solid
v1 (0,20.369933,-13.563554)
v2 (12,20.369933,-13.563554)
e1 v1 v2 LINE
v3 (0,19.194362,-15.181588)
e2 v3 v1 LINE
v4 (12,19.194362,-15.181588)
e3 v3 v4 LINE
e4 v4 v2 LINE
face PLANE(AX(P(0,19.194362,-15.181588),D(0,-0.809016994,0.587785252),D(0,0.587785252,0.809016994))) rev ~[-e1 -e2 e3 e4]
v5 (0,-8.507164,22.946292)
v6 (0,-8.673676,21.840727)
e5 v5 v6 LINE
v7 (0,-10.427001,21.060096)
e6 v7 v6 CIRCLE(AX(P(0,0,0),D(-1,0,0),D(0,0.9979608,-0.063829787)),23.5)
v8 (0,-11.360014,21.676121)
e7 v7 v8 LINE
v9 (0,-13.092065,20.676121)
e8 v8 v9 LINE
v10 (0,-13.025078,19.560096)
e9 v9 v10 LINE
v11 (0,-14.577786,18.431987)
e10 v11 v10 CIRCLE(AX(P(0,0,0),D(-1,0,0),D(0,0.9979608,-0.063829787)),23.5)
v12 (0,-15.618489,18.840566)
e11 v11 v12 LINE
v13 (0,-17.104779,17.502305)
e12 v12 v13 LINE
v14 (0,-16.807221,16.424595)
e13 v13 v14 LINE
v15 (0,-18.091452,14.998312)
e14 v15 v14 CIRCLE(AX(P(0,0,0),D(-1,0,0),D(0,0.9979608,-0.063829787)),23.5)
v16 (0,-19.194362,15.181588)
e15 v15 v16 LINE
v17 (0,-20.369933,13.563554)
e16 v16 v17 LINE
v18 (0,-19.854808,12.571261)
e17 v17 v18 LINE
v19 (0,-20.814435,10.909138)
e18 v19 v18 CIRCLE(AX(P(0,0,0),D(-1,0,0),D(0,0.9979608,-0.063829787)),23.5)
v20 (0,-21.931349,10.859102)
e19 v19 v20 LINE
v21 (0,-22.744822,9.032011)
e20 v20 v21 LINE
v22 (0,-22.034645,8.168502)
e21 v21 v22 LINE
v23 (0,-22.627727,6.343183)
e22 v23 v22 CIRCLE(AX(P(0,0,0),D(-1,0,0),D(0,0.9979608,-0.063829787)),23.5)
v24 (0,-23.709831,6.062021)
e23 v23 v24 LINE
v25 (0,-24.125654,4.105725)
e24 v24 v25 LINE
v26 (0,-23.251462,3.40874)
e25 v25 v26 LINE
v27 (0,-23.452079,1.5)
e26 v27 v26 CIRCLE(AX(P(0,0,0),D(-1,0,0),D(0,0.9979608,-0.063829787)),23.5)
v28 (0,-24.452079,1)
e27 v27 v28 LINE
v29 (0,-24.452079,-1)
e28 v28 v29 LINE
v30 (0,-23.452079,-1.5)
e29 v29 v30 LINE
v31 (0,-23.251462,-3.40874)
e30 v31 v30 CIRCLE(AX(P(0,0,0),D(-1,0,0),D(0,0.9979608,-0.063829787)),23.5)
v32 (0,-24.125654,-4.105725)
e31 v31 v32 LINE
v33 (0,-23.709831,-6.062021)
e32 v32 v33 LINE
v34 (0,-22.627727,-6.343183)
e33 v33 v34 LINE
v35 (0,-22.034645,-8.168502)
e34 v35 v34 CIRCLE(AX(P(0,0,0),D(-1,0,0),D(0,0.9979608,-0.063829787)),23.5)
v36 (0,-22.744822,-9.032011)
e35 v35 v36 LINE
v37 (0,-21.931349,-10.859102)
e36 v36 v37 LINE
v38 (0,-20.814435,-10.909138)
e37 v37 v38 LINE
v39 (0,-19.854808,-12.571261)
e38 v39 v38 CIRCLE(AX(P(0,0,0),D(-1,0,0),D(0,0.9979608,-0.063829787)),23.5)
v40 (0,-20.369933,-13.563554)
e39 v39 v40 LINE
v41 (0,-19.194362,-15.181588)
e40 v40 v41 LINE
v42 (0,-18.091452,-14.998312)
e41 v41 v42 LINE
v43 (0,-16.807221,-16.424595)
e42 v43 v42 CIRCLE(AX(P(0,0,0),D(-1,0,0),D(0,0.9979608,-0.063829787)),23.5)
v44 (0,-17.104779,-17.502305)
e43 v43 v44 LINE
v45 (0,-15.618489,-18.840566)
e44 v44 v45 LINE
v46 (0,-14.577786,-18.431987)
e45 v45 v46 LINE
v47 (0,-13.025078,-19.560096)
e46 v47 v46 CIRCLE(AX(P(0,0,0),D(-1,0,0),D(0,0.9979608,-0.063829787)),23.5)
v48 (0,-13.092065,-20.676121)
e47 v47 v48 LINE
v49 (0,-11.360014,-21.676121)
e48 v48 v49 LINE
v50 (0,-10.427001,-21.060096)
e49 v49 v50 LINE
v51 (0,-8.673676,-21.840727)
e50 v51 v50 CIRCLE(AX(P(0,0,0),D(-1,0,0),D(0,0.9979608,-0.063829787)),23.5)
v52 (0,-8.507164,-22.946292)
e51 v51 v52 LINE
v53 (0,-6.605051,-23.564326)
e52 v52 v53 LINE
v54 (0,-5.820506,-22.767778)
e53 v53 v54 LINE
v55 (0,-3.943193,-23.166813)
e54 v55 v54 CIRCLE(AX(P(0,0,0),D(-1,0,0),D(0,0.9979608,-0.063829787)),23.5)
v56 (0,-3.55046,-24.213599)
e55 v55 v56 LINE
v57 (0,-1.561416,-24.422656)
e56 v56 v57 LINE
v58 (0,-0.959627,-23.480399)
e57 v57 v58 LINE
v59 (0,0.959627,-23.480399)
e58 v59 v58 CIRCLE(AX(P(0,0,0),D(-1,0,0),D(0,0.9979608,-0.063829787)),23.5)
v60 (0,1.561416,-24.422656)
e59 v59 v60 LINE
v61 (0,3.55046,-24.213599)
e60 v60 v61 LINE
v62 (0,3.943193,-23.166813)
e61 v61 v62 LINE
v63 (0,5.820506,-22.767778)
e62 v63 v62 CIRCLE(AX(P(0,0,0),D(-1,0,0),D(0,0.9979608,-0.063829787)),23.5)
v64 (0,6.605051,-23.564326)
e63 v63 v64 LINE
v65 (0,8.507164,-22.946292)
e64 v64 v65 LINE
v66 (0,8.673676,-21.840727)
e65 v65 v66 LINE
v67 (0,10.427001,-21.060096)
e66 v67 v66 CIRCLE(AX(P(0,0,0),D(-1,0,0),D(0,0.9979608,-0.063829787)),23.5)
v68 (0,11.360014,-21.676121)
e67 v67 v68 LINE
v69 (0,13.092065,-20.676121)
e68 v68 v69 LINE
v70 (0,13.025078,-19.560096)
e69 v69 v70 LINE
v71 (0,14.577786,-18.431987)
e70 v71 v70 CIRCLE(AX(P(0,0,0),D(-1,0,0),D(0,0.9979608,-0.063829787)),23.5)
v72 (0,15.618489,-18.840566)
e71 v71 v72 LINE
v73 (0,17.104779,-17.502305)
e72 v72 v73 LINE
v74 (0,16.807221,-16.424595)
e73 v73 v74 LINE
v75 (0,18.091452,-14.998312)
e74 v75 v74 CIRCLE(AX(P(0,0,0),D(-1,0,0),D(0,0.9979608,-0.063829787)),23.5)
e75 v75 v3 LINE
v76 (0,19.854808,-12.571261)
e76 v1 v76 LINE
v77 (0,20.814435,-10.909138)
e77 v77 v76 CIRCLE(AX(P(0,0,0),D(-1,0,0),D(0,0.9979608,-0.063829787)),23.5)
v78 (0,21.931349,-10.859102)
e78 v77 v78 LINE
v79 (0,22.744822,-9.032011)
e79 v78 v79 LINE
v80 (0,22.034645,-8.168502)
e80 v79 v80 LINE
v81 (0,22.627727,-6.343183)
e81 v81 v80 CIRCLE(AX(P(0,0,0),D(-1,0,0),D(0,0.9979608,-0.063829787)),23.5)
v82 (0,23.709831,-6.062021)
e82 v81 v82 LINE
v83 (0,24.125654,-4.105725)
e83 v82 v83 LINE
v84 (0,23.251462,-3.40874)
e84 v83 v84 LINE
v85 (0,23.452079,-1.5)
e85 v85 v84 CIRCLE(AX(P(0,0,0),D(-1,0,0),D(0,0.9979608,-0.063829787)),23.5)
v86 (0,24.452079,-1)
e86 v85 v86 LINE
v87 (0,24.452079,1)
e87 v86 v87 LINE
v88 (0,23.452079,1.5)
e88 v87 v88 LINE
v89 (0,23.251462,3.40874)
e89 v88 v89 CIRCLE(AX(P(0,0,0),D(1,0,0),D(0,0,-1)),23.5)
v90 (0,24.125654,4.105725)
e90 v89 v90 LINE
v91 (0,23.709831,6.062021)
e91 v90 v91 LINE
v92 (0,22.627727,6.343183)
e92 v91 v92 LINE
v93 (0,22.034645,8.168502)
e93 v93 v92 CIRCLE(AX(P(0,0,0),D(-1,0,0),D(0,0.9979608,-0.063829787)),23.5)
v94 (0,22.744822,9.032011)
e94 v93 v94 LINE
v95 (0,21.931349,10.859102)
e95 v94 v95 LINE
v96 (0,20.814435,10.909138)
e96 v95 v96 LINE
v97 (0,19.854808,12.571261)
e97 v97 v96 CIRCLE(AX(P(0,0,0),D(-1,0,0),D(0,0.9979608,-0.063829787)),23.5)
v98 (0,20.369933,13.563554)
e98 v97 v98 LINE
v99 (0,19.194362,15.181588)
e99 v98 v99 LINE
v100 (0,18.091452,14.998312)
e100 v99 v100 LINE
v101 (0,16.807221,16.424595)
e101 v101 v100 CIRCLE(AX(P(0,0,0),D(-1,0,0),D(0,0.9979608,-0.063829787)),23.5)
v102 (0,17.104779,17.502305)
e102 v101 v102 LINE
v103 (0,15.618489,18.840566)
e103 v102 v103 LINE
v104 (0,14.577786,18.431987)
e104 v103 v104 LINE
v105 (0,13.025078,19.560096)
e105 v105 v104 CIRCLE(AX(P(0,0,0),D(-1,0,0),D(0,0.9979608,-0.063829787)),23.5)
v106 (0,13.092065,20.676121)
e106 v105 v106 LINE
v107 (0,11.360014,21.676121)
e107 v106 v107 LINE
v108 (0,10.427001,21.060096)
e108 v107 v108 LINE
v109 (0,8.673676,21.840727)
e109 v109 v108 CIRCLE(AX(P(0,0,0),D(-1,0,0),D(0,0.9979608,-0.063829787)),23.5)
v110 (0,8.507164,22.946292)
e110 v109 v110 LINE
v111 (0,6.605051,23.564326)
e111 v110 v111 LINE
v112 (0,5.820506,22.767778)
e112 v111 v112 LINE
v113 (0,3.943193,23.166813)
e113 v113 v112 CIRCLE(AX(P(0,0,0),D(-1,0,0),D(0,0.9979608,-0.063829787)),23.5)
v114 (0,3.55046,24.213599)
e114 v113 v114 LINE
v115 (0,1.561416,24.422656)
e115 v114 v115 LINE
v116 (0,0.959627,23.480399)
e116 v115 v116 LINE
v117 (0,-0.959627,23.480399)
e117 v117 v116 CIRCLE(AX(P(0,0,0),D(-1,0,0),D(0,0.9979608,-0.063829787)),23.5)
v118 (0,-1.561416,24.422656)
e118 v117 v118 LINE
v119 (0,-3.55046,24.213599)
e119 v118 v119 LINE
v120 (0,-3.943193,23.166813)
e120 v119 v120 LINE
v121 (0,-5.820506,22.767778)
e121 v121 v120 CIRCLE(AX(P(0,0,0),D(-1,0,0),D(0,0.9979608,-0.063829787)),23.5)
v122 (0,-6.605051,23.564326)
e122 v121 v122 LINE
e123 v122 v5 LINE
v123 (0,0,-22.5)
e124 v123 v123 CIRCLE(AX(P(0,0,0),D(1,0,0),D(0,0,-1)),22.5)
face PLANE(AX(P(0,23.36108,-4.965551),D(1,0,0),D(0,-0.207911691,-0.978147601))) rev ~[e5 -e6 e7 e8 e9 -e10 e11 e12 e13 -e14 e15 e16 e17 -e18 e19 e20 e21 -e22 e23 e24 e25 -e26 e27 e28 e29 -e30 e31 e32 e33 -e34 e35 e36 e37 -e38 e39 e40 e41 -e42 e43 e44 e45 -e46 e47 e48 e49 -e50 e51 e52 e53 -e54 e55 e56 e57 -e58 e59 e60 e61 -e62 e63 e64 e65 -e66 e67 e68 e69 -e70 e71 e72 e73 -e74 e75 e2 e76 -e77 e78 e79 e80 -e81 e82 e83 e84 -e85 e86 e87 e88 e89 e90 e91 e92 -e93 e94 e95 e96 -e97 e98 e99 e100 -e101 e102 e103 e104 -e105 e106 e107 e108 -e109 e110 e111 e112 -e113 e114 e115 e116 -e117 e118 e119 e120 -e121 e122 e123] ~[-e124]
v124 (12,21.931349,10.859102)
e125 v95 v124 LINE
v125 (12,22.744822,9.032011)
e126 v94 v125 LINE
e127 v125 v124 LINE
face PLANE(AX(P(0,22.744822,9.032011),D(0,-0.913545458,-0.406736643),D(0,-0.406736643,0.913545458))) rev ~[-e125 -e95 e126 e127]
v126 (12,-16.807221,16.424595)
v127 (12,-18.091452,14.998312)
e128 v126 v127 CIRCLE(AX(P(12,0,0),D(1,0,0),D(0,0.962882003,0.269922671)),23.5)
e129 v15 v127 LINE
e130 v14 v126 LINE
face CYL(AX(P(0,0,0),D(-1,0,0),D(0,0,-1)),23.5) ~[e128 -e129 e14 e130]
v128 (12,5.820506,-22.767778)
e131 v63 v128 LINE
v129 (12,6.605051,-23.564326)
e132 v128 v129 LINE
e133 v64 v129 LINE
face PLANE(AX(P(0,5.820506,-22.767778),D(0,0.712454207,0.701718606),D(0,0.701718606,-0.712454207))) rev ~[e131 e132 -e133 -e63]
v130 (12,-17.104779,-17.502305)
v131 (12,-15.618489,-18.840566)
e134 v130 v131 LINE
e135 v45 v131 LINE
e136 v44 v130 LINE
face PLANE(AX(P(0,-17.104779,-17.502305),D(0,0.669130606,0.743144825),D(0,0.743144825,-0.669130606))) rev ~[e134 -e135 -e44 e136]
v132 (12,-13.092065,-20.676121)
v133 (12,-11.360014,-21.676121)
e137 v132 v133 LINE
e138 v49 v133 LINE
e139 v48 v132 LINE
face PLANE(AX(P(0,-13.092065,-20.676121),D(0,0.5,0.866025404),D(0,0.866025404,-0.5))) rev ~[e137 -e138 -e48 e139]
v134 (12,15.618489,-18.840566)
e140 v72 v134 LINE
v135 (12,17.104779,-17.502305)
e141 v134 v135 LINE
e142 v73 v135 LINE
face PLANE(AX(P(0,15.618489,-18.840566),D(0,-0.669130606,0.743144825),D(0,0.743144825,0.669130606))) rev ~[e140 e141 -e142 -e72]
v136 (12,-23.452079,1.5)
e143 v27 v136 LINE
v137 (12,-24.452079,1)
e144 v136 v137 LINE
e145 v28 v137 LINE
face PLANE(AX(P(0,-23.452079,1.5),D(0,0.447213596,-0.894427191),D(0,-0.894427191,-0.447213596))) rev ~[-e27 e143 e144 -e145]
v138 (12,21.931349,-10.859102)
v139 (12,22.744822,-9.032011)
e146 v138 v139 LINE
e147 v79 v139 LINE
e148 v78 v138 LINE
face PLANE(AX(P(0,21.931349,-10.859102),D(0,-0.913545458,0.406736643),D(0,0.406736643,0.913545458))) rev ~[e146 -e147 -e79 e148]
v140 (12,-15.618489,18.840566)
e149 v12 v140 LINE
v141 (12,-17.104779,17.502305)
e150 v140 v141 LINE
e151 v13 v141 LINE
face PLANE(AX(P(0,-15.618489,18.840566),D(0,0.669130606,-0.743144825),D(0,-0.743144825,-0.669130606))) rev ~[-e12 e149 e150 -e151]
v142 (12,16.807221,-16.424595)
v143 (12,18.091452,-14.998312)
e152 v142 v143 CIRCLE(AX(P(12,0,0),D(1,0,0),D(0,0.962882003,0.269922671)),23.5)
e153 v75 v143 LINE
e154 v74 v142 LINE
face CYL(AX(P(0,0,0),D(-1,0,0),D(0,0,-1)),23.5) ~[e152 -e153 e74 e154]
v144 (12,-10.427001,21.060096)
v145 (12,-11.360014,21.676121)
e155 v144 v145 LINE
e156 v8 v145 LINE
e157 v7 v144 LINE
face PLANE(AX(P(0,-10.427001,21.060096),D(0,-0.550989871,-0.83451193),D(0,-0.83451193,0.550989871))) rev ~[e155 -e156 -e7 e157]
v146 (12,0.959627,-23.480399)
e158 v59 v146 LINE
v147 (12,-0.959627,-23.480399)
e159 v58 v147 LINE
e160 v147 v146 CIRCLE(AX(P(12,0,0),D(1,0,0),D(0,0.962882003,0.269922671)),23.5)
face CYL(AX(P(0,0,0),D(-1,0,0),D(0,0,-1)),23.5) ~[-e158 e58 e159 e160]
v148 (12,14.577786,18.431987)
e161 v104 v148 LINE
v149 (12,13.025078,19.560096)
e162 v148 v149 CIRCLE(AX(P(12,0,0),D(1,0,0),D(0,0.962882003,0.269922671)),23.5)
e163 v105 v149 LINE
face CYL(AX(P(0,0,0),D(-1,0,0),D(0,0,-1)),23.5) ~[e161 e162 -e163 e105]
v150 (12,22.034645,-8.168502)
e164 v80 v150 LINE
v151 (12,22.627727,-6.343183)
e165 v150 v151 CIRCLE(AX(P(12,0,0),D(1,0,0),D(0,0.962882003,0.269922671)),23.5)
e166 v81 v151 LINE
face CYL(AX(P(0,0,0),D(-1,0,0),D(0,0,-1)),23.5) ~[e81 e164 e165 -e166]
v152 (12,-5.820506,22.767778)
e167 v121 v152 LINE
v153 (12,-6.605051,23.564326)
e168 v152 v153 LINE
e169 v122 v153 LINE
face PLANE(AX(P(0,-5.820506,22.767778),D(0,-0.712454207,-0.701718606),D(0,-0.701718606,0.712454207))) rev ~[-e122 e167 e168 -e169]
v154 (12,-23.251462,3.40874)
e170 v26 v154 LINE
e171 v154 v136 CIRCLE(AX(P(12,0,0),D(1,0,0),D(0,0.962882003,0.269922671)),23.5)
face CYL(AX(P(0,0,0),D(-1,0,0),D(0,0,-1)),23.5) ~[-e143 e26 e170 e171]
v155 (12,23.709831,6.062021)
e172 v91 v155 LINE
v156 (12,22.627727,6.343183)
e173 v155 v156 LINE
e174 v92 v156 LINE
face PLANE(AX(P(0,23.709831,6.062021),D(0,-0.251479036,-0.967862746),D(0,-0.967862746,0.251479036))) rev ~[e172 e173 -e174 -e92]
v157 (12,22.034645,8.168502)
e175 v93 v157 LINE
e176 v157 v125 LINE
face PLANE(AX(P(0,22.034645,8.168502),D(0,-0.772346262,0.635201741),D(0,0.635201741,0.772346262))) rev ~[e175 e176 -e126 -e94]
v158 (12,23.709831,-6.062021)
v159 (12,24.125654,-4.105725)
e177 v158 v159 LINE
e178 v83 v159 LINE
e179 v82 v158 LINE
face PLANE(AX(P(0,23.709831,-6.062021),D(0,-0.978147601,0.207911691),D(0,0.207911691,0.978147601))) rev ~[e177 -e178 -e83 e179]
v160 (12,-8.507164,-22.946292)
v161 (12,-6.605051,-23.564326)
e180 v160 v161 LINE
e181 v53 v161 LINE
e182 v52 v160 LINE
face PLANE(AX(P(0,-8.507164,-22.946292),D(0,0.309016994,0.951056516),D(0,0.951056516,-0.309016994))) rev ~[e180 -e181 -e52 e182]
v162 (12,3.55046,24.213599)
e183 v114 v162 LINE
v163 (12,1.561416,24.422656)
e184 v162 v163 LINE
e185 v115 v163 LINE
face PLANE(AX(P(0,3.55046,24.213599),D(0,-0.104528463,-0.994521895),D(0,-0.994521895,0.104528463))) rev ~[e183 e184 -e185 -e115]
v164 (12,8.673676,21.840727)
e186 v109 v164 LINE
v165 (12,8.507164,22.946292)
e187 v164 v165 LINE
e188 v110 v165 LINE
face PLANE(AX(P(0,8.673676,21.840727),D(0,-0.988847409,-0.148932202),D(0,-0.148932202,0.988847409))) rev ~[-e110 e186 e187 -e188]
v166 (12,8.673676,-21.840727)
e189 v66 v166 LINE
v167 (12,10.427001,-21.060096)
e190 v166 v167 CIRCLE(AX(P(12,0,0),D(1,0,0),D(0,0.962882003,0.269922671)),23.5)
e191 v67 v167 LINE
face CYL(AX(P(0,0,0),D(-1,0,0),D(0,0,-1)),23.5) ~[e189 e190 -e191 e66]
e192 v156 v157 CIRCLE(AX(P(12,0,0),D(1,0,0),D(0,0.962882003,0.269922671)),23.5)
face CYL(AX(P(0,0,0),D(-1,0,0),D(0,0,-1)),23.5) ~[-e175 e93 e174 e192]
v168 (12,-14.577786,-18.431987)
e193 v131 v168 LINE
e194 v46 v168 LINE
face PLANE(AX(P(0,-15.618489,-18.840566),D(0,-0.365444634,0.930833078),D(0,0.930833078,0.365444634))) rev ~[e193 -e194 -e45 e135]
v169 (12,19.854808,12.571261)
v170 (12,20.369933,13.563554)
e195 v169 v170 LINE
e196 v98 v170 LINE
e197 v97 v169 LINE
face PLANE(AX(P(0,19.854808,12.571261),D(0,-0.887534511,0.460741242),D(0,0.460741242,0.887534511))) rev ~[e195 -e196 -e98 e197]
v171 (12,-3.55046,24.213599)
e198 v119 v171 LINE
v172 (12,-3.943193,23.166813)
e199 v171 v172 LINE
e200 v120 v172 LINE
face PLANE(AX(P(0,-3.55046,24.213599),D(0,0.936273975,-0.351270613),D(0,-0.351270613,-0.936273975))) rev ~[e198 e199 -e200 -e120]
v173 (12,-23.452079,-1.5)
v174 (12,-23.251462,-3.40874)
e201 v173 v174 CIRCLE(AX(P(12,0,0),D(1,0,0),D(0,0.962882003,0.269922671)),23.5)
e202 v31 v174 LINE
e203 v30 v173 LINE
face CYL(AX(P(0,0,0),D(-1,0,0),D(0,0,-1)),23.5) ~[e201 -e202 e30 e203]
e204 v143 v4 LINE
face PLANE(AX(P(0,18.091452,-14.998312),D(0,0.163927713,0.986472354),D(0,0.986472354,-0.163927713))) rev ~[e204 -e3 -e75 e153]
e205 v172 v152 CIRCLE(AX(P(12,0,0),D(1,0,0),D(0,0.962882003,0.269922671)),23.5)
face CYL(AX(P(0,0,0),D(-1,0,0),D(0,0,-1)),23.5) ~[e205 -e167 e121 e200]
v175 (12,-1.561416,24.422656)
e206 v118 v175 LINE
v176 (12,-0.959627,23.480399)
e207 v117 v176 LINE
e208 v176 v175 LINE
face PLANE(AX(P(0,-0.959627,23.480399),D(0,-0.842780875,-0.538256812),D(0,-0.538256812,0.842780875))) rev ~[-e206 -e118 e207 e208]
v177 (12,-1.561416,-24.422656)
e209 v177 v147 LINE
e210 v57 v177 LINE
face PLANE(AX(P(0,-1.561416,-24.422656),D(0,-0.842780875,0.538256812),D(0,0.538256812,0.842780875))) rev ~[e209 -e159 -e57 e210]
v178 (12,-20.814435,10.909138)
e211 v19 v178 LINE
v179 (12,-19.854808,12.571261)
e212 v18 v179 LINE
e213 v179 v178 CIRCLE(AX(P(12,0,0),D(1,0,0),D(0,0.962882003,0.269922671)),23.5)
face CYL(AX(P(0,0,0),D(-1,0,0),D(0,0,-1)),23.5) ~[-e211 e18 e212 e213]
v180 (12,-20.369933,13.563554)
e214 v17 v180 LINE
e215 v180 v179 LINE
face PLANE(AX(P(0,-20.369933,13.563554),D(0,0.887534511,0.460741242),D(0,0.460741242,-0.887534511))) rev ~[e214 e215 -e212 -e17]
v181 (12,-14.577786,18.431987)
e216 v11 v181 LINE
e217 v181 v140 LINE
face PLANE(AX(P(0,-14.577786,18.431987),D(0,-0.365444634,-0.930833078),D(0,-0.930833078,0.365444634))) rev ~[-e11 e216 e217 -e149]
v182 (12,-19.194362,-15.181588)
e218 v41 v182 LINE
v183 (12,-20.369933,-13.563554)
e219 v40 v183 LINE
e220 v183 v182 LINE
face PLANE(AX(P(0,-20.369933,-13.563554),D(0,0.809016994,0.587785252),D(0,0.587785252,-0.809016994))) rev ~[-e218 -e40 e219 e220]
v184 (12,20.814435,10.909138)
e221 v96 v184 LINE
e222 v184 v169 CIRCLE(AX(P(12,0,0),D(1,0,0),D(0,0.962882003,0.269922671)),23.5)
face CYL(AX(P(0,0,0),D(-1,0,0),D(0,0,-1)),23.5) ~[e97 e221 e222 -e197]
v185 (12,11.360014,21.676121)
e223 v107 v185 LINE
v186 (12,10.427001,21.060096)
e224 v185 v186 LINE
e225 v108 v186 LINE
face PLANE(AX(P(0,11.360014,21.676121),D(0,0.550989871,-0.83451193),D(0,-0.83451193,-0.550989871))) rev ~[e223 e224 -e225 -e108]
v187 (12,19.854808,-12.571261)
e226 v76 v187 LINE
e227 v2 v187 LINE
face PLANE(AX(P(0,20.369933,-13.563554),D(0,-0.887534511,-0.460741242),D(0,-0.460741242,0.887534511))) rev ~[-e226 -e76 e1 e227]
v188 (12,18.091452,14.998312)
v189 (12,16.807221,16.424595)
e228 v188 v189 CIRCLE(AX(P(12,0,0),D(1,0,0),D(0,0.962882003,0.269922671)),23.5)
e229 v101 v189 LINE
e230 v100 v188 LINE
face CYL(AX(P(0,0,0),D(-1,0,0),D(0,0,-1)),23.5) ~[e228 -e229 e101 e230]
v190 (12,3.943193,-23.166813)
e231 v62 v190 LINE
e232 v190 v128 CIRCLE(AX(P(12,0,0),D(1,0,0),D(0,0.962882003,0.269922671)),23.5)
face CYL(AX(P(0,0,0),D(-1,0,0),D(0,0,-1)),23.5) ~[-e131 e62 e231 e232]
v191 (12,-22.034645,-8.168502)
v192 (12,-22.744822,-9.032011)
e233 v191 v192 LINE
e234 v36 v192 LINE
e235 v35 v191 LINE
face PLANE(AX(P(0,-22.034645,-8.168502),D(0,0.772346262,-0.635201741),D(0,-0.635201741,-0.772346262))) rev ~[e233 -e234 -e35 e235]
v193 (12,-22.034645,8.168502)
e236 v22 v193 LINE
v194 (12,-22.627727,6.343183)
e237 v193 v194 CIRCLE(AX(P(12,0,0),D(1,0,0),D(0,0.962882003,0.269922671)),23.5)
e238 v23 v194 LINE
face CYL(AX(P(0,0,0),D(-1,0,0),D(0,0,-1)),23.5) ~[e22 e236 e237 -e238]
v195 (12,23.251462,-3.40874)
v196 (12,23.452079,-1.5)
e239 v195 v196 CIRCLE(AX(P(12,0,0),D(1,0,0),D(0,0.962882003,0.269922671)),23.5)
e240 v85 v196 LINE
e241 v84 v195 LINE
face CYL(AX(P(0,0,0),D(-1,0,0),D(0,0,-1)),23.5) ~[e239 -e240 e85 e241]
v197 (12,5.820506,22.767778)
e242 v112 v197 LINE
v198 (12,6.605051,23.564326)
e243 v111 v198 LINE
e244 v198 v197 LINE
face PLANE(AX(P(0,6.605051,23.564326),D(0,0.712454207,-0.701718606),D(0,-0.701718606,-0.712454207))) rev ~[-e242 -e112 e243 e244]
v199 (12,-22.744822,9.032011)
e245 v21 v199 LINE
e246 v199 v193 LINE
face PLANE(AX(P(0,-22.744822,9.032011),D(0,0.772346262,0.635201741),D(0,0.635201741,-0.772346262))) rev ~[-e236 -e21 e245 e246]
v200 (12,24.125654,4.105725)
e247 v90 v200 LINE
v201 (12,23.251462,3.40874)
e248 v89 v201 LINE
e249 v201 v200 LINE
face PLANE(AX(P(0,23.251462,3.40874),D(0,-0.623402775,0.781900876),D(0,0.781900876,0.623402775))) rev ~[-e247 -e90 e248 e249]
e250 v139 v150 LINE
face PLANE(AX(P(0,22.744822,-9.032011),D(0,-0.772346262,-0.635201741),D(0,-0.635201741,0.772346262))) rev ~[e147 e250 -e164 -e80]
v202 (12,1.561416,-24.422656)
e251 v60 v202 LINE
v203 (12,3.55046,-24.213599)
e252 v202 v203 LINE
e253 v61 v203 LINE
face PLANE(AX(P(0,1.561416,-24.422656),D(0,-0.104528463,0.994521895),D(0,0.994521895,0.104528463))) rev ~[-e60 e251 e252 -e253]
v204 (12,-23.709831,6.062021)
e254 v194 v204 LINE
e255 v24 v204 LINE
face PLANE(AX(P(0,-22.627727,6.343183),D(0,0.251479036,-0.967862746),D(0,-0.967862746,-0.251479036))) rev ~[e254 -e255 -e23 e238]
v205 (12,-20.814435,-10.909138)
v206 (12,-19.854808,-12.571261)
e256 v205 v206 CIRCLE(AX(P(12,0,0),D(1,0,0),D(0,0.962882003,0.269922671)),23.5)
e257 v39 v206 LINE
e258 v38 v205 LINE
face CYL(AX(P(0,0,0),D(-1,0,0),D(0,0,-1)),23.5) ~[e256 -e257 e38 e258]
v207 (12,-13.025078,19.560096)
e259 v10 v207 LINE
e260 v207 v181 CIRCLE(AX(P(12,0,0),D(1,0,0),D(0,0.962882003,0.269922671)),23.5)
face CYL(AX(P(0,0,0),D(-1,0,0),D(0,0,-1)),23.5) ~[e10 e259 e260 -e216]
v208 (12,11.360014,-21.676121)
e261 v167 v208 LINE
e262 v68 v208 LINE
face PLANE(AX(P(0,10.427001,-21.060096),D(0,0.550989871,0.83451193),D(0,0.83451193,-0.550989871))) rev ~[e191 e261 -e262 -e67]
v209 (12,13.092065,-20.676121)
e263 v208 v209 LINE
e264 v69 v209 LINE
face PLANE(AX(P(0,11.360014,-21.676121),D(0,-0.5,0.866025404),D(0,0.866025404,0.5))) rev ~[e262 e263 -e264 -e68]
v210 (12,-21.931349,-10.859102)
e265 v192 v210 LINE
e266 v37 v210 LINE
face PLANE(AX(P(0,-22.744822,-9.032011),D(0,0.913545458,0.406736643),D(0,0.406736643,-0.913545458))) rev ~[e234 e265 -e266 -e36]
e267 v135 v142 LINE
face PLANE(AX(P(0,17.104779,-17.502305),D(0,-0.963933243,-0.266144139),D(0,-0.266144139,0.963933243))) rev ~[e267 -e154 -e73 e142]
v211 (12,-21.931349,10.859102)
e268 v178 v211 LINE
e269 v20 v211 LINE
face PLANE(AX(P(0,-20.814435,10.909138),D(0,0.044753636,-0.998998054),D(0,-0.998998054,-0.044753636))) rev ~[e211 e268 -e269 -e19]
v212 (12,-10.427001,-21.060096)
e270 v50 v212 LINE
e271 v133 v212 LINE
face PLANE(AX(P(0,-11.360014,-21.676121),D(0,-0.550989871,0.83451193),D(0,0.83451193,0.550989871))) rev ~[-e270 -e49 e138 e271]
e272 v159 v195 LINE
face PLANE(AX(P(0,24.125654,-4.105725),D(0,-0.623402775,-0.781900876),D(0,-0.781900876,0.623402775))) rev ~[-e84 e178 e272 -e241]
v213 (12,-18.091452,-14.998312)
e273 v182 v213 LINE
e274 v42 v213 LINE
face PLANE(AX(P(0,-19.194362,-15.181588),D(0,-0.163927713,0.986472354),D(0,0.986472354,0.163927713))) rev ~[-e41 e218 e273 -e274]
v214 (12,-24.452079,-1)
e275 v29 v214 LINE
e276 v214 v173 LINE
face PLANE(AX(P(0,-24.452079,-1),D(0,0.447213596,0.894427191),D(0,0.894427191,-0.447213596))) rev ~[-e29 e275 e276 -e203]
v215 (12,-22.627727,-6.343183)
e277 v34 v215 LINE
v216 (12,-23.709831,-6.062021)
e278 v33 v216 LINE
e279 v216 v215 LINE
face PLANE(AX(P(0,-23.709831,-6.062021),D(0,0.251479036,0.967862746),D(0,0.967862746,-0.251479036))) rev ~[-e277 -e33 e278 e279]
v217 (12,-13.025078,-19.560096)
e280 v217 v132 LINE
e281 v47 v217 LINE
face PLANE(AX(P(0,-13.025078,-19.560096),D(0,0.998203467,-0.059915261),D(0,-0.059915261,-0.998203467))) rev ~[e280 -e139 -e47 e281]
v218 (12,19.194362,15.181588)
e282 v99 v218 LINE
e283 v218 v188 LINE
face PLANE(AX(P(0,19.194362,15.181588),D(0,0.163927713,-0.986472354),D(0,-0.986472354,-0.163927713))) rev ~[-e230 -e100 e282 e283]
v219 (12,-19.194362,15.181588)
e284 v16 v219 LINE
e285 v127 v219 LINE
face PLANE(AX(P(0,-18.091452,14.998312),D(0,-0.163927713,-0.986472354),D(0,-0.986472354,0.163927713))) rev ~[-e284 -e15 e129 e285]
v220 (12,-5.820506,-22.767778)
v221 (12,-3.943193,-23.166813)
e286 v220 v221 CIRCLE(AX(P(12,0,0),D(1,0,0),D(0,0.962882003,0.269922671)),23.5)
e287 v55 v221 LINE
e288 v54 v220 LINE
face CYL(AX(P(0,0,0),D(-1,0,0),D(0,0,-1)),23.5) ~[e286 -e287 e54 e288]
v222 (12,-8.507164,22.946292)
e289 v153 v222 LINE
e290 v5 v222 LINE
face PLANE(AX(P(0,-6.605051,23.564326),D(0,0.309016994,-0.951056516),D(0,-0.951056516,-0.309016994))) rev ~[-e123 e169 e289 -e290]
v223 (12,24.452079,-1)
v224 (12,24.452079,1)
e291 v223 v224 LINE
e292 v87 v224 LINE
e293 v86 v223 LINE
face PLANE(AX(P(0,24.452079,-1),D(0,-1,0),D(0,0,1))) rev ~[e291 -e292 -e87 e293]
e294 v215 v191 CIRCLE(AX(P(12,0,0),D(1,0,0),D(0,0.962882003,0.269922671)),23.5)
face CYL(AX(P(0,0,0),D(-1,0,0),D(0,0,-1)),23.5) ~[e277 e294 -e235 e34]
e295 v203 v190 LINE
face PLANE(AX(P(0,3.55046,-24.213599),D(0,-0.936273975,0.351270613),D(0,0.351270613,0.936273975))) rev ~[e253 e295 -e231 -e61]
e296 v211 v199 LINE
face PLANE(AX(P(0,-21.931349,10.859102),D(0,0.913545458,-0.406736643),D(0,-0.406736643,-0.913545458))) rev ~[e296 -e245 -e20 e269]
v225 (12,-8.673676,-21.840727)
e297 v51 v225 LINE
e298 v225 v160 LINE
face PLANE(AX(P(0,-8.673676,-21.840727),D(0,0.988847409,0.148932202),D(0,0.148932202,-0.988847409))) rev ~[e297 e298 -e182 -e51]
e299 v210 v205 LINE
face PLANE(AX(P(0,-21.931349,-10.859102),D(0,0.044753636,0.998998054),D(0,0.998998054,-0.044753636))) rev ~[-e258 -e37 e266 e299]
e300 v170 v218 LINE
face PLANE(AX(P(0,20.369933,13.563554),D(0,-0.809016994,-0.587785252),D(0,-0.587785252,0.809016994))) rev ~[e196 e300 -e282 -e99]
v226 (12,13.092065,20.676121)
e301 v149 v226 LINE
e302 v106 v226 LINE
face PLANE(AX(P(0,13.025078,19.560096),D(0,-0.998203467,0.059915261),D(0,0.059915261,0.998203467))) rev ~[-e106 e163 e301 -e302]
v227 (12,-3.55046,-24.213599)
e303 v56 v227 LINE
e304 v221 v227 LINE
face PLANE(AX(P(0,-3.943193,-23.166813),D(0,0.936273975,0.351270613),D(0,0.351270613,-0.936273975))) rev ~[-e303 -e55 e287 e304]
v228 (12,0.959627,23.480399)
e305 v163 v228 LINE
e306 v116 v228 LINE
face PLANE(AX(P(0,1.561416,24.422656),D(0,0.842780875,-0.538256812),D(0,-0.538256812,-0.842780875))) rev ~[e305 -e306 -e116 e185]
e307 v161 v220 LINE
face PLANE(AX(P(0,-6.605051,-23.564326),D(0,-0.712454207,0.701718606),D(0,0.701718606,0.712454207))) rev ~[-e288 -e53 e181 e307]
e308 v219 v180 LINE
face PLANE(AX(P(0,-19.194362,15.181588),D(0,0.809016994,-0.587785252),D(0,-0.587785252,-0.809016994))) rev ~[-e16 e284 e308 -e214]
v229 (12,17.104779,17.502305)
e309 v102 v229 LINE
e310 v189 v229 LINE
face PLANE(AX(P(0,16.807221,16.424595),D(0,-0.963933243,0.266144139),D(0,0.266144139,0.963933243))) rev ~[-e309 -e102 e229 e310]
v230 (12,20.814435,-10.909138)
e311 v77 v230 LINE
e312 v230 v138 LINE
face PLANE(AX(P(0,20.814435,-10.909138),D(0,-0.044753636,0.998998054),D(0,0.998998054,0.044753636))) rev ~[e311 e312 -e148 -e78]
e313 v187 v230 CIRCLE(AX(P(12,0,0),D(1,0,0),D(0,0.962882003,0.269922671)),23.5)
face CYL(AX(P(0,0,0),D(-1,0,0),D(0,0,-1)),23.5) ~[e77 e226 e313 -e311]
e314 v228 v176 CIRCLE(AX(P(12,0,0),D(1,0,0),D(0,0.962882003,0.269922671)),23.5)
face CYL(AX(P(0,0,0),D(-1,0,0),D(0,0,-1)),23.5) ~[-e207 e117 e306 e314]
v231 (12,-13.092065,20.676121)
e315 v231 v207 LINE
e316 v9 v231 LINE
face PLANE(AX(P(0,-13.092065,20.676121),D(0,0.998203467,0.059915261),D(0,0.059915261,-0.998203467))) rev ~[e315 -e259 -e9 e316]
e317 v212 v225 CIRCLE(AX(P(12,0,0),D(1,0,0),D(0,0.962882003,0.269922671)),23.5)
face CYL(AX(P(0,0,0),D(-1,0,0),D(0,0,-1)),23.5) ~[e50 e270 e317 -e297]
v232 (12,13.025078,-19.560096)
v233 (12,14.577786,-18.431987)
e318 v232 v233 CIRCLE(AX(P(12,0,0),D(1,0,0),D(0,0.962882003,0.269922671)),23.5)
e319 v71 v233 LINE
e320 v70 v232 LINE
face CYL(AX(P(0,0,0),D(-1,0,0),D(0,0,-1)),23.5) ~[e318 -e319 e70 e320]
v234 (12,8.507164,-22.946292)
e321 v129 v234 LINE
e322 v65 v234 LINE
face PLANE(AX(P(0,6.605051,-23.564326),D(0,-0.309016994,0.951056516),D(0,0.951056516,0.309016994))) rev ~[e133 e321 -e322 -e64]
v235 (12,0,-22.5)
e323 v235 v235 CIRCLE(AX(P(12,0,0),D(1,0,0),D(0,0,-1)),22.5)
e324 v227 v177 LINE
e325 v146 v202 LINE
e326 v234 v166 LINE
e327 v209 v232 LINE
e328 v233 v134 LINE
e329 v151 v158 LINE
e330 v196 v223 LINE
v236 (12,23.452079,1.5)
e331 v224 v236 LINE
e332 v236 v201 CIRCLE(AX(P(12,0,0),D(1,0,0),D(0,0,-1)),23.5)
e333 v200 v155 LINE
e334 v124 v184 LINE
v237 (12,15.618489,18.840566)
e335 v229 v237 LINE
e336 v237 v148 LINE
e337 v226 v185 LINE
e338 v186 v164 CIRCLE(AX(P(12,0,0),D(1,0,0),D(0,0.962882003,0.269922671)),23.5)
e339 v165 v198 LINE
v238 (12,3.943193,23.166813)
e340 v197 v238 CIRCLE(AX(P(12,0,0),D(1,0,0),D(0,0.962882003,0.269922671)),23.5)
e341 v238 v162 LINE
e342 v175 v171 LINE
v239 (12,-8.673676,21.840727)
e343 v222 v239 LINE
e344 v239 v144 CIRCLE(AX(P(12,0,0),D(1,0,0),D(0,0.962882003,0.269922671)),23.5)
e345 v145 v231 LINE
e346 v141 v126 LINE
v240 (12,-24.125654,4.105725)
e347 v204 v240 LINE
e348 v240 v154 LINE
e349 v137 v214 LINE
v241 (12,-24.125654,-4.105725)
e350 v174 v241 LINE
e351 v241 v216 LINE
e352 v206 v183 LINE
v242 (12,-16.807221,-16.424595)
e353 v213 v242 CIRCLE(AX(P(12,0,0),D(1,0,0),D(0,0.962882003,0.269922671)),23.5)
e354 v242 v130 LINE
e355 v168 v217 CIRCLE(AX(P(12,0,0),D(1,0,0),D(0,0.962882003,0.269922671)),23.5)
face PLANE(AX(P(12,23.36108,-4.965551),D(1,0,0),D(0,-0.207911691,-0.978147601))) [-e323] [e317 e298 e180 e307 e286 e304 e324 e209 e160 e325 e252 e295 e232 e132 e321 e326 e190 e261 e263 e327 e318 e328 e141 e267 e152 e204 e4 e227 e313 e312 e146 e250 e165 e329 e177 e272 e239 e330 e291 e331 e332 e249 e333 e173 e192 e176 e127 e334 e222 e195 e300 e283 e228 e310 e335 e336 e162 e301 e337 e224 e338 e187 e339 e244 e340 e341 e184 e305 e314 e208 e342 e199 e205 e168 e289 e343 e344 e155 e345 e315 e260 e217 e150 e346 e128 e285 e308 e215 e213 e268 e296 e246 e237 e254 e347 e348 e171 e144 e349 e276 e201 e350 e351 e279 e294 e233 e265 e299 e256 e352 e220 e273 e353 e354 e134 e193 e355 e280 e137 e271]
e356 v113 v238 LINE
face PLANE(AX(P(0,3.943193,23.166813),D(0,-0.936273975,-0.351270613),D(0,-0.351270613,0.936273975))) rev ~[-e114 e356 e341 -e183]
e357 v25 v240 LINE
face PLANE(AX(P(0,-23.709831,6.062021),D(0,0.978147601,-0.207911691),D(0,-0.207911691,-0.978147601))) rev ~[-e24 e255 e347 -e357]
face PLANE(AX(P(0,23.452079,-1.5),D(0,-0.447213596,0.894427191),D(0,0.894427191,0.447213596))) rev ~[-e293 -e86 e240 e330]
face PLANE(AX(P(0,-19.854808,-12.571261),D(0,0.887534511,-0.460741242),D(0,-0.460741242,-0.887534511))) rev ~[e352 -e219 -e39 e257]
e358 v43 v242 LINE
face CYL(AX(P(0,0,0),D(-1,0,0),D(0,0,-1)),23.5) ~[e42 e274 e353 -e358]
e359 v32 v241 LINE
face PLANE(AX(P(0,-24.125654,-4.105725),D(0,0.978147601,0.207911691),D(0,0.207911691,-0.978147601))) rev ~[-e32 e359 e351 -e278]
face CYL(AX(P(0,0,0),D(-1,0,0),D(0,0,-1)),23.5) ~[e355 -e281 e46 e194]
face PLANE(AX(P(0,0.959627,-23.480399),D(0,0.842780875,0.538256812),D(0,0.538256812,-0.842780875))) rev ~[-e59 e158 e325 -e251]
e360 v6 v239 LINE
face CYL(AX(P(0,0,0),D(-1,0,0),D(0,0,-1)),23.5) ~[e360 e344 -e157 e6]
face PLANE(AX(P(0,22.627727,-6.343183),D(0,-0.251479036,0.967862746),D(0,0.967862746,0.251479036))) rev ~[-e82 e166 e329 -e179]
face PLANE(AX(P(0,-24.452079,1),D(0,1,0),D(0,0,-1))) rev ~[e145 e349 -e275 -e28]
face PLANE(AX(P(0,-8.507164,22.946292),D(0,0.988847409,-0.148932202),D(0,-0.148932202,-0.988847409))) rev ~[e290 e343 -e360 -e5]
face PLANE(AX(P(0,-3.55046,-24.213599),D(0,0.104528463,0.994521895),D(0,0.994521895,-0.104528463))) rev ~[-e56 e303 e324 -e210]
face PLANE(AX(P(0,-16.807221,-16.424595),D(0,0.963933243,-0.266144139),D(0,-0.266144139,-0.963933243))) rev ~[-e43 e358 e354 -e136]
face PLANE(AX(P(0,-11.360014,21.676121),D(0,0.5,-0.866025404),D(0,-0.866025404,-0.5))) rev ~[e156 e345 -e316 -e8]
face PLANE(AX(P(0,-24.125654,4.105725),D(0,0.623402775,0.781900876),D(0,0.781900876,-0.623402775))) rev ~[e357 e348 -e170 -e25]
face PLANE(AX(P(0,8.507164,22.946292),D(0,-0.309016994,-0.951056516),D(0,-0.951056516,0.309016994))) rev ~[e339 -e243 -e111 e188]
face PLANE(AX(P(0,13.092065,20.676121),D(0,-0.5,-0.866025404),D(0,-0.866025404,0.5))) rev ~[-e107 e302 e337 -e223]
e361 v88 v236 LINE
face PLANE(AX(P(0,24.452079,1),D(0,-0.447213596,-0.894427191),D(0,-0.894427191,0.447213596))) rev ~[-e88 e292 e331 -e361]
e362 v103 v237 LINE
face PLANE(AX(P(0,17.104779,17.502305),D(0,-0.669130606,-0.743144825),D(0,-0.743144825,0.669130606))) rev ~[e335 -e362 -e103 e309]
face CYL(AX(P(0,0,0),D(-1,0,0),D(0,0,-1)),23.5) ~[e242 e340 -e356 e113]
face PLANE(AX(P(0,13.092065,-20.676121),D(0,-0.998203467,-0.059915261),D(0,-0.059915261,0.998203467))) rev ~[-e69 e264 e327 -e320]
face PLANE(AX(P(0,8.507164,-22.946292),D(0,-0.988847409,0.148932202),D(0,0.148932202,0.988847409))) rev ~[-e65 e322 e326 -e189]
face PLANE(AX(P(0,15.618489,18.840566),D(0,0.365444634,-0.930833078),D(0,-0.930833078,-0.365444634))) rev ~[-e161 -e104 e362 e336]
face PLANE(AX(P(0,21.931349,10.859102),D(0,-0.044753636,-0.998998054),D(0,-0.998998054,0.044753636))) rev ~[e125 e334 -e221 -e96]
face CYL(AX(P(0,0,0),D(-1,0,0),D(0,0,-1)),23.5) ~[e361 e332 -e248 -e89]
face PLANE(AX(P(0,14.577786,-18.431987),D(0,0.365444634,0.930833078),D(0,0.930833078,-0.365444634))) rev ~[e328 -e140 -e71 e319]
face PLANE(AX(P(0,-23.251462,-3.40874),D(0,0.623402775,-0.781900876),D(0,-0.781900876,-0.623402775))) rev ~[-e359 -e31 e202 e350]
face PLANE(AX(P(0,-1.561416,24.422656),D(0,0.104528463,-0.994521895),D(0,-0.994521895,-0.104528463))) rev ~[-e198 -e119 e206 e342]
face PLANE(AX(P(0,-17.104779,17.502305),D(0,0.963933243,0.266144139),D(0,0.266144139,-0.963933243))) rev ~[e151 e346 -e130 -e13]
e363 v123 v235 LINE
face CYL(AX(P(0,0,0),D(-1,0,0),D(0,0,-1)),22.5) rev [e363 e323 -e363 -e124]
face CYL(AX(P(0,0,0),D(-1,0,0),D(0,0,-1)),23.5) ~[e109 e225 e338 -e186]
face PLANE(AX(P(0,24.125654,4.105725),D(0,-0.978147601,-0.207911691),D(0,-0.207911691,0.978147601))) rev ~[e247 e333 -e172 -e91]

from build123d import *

# Parameters (mm, degrees)
SKETCH1_R           = 23.5
SKETCH1_R_2         = 22.5
EXTRUDE_THIN1_DEPTH = 12
BOSS_EXTRUDE2_DEPTH = 12
CIRPATTERN4_COUNT   = 30


with BuildPart() as part:
    # Sketch1 → Extrude-Thin1 (new body)
    with BuildSketch(Plane(origin=(0, 0, 0), x_dir=(0, 0, -1), z_dir=(1, 0, 0))):
        Circle(SKETCH1_R)
        Circle(SKETCH1_R_2, mode=Mode.SUBTRACT)
    extrude(amount=EXTRUDE_THIN1_DEPTH)

    # Sketch3 → Boss-Extrude2 (add)
    with BuildSketch(Plane.ZY):
        Polygon((-1, 24.452078799), (1, 24.452078799), (1.5, 23.452078799), (-1.5, 23.452078799), align=None)
    boss_extrude2 = extrude(amount=-BOSS_EXTRUDE2_DEPTH)

    # CirPattern4: Boss-Extrude2 ×30 about axis
    cirpattern4_axis = Axis((0, 0, 0), (1, 0, 0))
    for i in range(1, CIRPATTERN4_COUNT):
        add(boss_extrude2.rotate(cirpattern4_axis, i * 360 / CIRPATTERN4_COUNT))


solid = part.part
